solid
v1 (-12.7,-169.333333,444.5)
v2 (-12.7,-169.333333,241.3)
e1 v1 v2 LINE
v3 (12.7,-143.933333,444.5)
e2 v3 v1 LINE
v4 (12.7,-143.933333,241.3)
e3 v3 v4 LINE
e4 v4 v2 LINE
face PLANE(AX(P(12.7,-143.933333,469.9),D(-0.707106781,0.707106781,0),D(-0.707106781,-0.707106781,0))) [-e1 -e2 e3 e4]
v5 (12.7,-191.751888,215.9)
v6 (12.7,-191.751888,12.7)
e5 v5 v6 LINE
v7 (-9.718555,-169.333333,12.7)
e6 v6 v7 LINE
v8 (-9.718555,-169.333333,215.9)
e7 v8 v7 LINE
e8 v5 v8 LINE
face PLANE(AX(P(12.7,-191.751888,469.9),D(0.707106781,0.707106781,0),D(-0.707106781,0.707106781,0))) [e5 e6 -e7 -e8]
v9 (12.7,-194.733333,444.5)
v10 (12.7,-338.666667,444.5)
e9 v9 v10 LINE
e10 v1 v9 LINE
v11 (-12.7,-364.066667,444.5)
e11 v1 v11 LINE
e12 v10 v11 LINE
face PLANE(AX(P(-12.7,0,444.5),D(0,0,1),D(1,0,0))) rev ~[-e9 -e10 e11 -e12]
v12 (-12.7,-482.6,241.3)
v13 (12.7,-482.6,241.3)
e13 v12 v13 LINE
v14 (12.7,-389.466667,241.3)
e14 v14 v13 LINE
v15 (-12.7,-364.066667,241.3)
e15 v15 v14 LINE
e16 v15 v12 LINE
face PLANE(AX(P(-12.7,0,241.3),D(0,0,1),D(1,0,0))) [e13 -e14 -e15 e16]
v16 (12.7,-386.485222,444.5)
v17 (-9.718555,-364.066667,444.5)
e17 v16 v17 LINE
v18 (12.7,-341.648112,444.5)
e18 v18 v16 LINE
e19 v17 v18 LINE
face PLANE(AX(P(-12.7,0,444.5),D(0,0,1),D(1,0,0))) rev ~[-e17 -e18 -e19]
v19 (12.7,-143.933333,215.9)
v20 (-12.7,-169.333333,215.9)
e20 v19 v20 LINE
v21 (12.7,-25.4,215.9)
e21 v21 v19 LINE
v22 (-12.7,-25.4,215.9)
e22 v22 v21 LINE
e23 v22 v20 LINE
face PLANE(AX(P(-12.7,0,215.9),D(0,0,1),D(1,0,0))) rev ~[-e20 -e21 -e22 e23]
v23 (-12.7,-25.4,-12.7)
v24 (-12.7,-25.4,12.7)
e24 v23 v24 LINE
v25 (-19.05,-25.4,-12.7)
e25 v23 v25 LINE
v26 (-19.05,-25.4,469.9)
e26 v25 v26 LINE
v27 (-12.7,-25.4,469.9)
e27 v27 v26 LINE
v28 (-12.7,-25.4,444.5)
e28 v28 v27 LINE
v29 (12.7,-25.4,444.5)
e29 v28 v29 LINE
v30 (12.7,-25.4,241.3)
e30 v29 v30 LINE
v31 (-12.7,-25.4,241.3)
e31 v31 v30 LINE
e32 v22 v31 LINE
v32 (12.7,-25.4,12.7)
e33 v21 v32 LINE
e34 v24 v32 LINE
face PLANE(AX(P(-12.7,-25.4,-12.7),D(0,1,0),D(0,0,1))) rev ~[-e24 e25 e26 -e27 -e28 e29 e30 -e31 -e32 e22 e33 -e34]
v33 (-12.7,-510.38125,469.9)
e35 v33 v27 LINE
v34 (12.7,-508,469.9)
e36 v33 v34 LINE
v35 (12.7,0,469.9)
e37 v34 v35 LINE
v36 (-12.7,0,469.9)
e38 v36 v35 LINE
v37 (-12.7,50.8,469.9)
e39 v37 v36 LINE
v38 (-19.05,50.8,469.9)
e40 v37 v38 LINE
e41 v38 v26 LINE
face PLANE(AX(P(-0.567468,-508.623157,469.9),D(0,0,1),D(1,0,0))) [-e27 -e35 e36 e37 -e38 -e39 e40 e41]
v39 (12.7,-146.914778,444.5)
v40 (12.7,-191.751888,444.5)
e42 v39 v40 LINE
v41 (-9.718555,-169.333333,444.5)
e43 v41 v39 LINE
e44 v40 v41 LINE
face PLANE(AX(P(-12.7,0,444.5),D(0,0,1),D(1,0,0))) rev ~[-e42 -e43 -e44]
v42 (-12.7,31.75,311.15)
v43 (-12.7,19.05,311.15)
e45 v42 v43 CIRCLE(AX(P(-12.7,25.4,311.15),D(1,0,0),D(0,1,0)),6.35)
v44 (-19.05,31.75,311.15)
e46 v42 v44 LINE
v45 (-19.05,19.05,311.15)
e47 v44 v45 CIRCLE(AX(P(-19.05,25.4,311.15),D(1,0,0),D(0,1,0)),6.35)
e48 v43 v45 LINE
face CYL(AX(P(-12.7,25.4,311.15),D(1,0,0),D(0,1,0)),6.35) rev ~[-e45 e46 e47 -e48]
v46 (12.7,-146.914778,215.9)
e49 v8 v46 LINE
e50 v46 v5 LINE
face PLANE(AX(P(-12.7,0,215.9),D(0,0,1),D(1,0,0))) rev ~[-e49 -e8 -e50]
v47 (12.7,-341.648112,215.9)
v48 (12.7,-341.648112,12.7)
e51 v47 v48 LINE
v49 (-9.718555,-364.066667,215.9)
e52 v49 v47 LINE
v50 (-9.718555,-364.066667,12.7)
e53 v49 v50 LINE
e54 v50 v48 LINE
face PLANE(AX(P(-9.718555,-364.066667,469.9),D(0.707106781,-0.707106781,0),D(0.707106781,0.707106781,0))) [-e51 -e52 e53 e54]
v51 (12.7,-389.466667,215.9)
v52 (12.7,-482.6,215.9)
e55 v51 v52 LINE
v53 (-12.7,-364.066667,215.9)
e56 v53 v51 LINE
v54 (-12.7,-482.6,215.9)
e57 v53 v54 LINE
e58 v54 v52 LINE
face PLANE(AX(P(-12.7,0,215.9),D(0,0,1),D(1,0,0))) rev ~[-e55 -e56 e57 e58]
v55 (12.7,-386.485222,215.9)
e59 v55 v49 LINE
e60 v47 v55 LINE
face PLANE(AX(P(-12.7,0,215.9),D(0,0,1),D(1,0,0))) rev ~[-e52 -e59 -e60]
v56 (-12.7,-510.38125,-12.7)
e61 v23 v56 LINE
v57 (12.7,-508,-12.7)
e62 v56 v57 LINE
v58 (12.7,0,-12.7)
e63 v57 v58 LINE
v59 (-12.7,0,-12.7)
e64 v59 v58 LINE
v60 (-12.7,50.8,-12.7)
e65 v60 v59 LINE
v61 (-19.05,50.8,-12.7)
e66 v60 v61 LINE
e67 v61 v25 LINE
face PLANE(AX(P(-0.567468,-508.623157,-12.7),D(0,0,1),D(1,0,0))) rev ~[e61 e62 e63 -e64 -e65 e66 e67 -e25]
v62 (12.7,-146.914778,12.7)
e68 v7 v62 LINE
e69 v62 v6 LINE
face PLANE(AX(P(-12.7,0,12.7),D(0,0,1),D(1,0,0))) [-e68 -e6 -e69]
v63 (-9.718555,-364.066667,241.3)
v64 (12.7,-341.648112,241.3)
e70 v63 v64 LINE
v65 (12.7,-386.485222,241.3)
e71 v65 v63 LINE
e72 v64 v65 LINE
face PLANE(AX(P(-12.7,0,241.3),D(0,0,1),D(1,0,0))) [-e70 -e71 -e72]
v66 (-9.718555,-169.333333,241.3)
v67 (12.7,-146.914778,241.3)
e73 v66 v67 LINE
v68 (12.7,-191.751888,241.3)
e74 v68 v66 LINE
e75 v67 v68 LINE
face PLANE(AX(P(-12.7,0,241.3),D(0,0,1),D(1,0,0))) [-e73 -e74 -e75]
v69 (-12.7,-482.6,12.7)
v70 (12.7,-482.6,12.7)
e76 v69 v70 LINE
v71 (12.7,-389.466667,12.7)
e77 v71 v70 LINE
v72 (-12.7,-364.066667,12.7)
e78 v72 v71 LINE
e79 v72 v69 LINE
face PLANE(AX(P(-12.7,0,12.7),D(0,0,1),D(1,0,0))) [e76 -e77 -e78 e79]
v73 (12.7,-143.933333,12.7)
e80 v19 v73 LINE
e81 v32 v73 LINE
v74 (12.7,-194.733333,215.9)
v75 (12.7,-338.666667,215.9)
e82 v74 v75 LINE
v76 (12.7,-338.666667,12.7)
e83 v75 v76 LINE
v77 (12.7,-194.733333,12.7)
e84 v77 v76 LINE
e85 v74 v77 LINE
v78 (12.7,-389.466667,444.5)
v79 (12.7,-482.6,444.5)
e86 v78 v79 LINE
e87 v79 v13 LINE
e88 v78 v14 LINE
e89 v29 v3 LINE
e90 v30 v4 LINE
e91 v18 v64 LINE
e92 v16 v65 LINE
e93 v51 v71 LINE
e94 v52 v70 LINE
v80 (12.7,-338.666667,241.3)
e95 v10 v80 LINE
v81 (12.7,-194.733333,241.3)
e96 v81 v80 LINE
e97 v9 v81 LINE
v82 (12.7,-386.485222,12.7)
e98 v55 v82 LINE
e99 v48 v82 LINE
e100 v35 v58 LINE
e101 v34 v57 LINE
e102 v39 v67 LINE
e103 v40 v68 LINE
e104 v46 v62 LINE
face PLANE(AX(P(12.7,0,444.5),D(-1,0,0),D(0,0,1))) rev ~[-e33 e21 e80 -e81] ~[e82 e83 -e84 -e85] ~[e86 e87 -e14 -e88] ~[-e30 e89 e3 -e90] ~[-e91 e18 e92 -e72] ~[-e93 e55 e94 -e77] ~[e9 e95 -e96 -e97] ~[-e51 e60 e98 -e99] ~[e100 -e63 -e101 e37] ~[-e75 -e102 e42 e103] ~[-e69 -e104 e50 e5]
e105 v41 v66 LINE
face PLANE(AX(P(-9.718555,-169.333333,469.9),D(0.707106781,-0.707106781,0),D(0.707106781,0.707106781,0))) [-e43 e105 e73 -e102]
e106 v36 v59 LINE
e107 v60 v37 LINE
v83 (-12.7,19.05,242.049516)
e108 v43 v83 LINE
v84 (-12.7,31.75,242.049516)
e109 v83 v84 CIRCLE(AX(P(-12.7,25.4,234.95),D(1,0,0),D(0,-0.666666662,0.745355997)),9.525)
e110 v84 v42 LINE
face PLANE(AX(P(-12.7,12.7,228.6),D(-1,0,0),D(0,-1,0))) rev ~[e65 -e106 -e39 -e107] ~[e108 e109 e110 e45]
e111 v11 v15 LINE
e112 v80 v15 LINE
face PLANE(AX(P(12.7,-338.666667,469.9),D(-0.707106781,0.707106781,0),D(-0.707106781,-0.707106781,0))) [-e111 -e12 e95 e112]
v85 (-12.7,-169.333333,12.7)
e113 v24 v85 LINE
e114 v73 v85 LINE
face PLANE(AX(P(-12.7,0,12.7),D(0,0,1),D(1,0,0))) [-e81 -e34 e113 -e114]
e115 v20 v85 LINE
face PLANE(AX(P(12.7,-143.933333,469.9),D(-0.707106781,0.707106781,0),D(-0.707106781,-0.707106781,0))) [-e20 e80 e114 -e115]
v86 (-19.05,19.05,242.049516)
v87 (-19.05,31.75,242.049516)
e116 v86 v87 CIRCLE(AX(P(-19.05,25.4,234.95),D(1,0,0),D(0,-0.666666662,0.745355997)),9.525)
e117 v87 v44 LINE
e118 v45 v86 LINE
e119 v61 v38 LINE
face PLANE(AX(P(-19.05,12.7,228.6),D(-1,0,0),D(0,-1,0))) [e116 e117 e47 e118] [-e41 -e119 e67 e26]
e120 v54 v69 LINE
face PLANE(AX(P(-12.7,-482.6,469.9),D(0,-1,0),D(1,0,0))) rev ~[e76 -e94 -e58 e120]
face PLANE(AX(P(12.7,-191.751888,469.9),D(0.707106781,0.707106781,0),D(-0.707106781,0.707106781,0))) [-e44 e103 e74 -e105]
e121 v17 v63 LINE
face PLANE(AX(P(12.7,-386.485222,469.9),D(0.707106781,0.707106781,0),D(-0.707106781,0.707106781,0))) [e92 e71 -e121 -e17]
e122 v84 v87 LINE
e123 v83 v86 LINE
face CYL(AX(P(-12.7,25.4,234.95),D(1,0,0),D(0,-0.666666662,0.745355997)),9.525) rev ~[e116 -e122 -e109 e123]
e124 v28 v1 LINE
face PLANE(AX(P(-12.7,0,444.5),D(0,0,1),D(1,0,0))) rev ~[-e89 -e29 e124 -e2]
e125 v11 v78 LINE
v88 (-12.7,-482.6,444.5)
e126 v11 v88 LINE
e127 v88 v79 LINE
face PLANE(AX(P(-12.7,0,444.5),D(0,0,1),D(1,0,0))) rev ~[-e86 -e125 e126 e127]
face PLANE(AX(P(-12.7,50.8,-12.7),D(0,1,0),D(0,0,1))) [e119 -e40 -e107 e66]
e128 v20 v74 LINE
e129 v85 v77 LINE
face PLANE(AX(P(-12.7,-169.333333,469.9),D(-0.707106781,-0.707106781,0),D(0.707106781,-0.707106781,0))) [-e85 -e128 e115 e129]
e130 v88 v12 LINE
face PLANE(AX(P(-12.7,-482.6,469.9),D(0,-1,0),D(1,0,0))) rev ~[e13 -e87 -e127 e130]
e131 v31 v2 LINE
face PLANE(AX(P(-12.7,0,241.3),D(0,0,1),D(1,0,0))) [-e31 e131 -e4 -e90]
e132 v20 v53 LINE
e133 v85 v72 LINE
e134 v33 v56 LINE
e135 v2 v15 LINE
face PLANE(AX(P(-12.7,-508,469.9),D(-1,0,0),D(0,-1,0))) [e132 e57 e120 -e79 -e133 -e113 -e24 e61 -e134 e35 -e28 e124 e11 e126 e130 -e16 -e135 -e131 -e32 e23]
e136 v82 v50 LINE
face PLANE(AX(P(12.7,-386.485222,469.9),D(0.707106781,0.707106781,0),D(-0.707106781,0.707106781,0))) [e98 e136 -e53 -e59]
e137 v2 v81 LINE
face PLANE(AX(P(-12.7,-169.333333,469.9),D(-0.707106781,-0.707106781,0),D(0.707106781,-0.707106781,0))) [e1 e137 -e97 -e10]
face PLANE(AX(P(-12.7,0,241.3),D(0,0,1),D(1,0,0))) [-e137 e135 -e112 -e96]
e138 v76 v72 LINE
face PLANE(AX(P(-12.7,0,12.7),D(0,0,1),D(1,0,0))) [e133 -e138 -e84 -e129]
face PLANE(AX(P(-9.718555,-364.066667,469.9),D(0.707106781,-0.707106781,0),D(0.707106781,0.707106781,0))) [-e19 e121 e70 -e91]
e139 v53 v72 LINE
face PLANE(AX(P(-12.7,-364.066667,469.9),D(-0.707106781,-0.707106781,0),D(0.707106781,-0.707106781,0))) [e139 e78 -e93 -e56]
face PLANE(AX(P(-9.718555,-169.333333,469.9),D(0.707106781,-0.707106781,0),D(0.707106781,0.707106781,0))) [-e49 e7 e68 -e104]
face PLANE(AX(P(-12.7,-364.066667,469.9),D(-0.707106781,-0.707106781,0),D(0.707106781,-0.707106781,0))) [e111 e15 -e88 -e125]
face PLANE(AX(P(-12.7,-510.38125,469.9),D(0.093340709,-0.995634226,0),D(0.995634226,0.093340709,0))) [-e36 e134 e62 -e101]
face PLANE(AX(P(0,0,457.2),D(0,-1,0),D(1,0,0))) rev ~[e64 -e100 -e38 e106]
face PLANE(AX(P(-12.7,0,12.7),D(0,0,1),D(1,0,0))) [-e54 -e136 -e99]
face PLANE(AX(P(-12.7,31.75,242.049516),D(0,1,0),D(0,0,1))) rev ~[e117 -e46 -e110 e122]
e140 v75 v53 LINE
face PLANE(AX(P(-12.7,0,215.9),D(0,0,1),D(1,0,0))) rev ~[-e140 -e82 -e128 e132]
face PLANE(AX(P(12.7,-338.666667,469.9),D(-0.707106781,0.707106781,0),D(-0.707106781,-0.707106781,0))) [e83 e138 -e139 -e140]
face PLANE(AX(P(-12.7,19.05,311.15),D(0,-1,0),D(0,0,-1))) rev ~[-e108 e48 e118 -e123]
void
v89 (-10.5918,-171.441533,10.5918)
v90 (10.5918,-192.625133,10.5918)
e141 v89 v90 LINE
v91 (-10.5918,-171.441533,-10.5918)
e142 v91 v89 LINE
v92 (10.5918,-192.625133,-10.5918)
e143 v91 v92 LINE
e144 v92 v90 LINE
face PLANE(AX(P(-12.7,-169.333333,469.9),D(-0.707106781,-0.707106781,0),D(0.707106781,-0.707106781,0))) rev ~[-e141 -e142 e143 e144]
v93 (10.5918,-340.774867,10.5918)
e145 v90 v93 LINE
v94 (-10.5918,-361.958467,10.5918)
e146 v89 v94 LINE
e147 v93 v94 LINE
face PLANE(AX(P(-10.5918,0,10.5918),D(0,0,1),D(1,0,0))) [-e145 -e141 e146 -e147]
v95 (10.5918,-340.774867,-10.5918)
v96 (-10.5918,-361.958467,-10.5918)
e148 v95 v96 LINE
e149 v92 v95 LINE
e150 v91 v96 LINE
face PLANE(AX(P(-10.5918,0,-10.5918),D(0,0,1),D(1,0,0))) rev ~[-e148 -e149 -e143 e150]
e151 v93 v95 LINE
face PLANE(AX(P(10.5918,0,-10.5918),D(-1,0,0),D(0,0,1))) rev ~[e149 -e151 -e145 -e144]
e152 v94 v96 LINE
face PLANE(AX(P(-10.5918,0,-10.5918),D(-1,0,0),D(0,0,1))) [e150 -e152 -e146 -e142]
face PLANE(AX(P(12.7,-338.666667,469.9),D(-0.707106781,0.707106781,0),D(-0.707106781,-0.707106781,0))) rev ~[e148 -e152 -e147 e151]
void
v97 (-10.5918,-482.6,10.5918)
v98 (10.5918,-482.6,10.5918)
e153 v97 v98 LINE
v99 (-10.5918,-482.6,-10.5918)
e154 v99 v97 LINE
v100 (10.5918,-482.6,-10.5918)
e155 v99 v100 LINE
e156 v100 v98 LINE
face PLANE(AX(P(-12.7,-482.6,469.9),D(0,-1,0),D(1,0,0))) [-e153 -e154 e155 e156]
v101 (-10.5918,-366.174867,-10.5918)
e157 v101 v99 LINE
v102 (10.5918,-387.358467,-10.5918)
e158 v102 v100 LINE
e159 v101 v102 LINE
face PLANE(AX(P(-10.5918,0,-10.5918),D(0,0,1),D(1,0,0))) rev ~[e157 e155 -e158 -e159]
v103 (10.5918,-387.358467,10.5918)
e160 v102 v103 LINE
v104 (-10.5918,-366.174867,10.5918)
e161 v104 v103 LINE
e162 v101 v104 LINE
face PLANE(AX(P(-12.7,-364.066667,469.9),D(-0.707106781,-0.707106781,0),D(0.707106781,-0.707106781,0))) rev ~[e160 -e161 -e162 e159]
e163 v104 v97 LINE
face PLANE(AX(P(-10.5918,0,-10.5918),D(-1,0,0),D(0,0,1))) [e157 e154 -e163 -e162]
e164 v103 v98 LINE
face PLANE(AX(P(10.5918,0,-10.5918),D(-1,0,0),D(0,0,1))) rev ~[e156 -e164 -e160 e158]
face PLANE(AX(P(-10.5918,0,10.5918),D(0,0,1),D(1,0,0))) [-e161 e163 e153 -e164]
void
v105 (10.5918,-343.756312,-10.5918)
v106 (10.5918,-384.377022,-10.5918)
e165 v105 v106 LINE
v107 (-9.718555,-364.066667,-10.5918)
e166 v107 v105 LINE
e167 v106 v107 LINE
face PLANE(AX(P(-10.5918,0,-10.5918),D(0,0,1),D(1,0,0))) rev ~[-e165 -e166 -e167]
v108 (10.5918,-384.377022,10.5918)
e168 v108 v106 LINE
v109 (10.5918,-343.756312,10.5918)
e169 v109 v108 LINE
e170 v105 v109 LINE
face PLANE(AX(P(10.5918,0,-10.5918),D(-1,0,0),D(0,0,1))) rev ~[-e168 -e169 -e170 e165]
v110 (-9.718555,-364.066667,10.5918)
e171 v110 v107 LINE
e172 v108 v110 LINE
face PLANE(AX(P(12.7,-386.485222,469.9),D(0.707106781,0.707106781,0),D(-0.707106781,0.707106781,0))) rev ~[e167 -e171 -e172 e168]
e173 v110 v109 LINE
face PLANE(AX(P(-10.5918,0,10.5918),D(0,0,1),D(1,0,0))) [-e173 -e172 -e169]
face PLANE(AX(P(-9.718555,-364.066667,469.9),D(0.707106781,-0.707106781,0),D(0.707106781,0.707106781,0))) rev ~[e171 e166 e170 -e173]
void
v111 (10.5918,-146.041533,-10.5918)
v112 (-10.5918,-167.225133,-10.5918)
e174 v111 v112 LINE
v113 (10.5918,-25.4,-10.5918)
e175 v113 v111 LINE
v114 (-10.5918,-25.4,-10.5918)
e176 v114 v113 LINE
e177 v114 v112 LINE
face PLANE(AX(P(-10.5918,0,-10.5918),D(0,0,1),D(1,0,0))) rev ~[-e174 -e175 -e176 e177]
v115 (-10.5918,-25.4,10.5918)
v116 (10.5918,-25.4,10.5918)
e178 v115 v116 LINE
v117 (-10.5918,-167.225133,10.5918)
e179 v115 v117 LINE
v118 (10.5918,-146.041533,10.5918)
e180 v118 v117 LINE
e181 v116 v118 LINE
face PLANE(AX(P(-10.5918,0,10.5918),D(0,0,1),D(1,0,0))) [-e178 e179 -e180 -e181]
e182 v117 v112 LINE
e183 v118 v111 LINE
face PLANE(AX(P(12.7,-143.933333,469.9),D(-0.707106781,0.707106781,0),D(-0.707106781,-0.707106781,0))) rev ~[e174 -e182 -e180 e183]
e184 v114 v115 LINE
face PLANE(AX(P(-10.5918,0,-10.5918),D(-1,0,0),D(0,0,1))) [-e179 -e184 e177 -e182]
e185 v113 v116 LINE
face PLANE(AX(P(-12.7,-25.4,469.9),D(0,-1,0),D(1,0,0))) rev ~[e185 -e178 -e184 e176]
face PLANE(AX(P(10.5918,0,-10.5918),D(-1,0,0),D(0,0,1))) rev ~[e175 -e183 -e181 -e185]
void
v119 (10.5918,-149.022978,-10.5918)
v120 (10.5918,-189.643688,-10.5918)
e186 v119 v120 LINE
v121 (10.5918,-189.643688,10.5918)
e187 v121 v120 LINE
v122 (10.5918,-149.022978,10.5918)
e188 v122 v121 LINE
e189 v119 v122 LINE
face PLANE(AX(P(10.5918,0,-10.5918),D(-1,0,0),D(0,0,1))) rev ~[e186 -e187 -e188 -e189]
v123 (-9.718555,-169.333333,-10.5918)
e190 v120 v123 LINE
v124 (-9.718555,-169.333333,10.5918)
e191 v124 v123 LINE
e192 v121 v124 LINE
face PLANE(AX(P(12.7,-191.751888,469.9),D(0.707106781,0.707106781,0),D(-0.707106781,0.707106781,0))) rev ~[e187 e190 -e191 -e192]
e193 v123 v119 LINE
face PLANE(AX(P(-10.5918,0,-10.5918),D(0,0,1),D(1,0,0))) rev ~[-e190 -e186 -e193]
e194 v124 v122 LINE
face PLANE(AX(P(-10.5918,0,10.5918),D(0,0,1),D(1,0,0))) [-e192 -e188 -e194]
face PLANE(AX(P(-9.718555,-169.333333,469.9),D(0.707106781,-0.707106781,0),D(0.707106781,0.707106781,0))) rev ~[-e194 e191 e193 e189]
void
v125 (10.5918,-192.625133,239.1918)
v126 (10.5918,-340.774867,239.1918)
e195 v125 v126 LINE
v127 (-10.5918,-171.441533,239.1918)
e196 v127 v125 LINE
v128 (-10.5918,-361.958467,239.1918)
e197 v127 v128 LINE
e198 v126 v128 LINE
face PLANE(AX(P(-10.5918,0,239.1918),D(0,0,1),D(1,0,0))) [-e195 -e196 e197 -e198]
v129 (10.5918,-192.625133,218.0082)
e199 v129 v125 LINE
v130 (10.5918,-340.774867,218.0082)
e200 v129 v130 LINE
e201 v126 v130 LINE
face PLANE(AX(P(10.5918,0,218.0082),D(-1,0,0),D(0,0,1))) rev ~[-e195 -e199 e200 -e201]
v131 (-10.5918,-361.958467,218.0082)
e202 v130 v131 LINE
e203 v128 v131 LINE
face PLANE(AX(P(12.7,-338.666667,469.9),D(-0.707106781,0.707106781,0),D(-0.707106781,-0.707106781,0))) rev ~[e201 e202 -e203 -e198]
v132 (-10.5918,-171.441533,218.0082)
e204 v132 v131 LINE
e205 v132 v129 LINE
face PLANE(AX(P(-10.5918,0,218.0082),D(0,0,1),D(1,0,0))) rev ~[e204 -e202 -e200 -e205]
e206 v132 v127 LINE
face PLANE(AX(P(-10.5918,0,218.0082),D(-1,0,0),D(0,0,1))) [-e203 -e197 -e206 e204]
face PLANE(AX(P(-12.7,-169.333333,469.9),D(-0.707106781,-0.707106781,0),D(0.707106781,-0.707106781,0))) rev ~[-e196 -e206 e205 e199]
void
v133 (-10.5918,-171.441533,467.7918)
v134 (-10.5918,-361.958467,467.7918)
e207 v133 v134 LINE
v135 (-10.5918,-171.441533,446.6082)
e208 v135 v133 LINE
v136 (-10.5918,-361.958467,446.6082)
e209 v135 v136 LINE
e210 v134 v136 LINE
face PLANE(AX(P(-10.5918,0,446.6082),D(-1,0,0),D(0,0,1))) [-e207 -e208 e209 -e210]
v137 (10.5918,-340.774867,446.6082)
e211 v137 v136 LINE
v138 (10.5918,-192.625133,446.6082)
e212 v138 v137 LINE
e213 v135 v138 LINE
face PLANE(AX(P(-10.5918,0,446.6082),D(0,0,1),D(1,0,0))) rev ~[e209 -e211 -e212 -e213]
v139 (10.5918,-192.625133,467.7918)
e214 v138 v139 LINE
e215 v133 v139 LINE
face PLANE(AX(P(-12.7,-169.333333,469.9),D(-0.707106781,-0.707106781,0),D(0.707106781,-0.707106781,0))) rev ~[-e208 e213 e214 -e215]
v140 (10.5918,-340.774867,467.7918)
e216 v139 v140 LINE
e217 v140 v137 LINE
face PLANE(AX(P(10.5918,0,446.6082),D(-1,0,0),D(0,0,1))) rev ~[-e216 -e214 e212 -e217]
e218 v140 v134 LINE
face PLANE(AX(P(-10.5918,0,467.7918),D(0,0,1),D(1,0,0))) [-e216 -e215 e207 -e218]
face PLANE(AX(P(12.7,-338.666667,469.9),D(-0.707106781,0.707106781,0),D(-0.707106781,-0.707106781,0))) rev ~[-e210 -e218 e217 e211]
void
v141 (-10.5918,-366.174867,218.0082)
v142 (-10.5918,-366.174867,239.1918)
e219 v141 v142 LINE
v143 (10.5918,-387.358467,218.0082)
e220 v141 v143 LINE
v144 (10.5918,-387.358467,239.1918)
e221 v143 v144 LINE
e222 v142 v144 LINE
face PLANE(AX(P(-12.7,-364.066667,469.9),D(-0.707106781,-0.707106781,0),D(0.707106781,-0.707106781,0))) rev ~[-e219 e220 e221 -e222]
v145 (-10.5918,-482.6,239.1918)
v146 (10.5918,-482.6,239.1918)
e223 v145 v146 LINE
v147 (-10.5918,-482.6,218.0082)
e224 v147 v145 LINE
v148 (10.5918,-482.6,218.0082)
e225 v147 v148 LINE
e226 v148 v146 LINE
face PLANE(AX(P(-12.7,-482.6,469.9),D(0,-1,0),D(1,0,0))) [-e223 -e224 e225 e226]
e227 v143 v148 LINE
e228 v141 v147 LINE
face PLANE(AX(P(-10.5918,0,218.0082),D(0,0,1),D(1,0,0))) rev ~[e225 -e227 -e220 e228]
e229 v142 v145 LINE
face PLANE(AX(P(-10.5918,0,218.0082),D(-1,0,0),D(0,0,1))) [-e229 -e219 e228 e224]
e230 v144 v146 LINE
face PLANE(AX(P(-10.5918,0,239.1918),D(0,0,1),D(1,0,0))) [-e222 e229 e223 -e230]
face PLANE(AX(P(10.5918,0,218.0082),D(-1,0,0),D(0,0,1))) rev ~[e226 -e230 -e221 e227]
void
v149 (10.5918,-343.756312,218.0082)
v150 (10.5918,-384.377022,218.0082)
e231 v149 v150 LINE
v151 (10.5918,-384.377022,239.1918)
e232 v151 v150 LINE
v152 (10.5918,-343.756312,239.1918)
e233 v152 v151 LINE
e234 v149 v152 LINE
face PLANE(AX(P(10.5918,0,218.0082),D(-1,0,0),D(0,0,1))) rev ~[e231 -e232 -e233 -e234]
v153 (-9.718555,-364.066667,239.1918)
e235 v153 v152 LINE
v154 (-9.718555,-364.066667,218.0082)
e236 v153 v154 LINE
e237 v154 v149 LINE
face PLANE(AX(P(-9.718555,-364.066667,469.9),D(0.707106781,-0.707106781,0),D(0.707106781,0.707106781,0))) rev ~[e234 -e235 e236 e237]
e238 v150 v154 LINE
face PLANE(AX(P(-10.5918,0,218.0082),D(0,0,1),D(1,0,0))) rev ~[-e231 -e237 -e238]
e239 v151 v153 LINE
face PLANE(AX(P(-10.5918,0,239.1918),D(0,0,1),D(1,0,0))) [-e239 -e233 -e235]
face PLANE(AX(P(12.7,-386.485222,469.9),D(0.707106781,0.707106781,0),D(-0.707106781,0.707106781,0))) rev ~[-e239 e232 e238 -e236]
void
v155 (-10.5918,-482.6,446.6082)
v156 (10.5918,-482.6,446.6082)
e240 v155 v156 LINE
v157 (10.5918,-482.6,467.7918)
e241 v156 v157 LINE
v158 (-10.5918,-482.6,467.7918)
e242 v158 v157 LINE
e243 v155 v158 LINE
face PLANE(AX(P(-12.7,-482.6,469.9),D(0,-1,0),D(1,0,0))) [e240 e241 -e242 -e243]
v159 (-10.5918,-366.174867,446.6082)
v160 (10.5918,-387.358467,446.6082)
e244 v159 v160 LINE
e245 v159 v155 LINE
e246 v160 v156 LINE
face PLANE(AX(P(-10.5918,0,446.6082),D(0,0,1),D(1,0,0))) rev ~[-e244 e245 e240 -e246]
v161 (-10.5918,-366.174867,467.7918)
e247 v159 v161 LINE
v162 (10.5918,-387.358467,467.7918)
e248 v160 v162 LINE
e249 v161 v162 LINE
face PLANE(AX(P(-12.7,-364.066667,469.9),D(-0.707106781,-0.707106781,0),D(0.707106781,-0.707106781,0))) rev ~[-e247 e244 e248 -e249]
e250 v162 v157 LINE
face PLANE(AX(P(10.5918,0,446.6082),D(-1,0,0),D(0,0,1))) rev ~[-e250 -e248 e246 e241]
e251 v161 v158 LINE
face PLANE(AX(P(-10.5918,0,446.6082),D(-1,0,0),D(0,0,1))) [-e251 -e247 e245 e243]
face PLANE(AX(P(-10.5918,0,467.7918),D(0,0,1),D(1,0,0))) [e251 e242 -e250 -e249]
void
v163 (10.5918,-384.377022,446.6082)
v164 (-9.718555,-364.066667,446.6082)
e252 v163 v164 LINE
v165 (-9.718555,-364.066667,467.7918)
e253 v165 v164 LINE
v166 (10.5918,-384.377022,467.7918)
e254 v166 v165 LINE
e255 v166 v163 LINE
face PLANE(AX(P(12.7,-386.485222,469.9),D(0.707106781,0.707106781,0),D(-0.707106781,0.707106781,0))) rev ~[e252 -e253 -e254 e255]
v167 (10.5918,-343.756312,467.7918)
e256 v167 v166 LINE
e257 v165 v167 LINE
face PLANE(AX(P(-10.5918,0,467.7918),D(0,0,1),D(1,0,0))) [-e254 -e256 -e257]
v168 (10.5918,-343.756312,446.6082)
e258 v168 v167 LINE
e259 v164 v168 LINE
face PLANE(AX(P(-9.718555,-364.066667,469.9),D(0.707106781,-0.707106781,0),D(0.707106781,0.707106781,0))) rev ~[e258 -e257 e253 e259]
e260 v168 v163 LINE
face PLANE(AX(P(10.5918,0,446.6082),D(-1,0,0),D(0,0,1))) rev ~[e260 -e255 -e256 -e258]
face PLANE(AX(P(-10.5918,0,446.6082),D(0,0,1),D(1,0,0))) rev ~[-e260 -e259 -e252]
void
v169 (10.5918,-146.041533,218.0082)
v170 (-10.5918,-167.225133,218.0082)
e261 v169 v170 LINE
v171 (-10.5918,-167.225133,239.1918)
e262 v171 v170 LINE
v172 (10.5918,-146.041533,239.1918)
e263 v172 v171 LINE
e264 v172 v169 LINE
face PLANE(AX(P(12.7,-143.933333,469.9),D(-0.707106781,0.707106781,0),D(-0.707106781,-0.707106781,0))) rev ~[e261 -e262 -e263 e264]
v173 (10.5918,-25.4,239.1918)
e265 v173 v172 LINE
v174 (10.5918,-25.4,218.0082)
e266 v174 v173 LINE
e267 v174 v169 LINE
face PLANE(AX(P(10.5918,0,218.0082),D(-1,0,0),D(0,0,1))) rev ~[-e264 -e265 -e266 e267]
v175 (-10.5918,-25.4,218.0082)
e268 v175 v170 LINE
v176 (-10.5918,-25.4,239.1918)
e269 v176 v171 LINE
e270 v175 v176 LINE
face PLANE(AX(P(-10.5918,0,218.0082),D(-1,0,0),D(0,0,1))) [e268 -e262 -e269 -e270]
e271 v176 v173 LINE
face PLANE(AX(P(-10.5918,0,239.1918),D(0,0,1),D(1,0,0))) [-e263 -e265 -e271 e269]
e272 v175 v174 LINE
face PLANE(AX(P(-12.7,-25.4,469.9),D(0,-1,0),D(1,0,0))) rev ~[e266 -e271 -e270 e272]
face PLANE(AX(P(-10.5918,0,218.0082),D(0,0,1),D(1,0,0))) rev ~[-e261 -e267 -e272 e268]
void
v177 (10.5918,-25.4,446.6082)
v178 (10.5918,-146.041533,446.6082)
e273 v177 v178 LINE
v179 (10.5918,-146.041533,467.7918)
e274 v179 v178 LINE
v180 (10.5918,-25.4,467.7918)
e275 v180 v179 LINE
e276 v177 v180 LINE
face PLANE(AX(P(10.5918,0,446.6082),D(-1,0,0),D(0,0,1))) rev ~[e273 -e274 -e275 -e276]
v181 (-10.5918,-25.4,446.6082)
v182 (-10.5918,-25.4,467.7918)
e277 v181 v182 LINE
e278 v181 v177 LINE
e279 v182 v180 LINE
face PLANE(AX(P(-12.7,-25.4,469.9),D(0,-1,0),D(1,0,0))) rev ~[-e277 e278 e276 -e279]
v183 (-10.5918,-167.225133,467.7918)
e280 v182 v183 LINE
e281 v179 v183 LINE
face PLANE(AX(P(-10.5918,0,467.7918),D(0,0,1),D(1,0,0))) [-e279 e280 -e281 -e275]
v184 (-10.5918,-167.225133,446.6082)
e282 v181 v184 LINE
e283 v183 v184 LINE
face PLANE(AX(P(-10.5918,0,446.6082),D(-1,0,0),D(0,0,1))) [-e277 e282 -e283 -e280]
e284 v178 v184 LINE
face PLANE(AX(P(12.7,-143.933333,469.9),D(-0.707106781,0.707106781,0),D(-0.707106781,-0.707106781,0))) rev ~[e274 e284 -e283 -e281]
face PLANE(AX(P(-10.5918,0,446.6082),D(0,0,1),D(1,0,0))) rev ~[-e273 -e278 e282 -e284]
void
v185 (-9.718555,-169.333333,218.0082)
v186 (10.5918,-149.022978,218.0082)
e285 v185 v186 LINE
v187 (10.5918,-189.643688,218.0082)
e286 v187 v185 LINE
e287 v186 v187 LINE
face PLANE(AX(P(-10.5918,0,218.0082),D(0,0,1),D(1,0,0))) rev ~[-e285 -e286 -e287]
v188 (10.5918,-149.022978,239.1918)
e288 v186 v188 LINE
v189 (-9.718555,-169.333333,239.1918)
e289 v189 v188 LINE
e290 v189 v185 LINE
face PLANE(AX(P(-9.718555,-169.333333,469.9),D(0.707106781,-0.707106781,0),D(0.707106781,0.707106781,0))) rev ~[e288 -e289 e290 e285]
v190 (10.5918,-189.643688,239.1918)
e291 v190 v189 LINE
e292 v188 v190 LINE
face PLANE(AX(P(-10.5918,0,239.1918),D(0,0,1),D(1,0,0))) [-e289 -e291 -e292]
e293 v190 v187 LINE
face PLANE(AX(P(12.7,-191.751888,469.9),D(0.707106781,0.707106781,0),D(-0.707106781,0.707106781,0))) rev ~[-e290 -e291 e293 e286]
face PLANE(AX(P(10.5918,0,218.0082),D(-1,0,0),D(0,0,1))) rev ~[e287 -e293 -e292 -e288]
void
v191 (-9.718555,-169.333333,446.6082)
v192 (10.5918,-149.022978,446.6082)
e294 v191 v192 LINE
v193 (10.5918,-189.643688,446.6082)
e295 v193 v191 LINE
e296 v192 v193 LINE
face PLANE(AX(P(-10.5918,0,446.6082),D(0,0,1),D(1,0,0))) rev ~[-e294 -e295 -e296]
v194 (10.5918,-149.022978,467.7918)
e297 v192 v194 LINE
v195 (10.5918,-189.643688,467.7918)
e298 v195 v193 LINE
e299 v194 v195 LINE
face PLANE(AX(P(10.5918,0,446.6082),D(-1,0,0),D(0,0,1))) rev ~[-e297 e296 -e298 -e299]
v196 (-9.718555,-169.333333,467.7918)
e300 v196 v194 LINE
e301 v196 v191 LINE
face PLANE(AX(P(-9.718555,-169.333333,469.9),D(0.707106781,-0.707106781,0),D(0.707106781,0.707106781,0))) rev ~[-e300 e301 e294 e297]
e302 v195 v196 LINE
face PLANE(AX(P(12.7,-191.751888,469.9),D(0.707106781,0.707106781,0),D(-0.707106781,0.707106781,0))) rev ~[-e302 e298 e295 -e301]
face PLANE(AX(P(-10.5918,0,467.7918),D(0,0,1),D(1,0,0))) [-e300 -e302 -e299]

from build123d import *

# Parameters (mm, degrees)
F0_W     = 25.4
F0_H     = 25.4
F0_W_2   = 21.1836
F0_H_2   = 21.1836
F1_DEPTH = 508
F2_W     = 25.4
F2_H     = 25.4
F3_DEPTH = 482.6
F4_W     = 76.2
F4_H     = 482.6
F5_DEPTH = 6.35
F7_DEPTH = 482.6
F9_DEPTH = 482.6


with BuildPart() as f1:
    # F0 (on Front) → F1 (new body)
    with BuildSketch(Plane.XZ):
        with Locations((0, 457.2)):
            Rectangle(F0_W, F0_H)
        with Locations((0, 457.2)):
            Rectangle(F0_W_2, F0_H_2, mode=Mode.SUBTRACT)
        with Locations((0, 228.6)):
            Rectangle(F0_W, F0_H)
        with Locations((0, 228.6)):
            Rectangle(F0_W_2, F0_H_2, mode=Mode.SUBTRACT)
        Rectangle(F0_W, F0_H)
        Rectangle(F0_W_2, F0_H_2, mode=Mode.SUBTRACT)
    extrude(amount=F1_DEPTH)

    # F2 (on face) → F3 (join)
    with BuildSketch(Plane.XY.offset(469.9)):
        with Locations((0, -12.7)):
            Rectangle(F2_W, F2_H)
        with Locations((0, -495.3)):
            Rectangle(F2_W, F2_H)
    extrude(amount=-F3_DEPTH)

    # F4 (on face) → F5 (join)
    with BuildSketch(Plane(origin=(-12.7, 0, 0), x_dir=(0, -1, 0), z_dir=(-1, 0, 0))):
        with Locations((-12.7, 228.6)):
            Rectangle(F4_W, F4_H)
        with BuildLine():
            ThreePointArc((-19.05, 242.049516), (-25.4, 225.425), (-31.75, 242.049516))
            Line((-31.75, 242.049516), (-31.75, 311.15))
            ThreePointArc((-31.75, 311.15), (-25.4, 317.5), (-19.05, 311.15))
            Line((-19.05, 311.15), (-19.05, 242.049516))
        make_face(mode=Mode.SUBTRACT)
    extrude(amount=F5_DEPTH)

    # F6 (on face) → F7 (join)
    with BuildSketch(Plane.XY.offset(469.9)):
        Polygon((-12.7, -169.333333), (12.7, -194.733333), (12.7, -191.751888), (-9.718555, -169.333333), (12.7, -146.914778), (12.7, -143.933333), align=None)
        Polygon((-12.7, -364.066667), (12.7, -389.466667), (12.7, -386.485222), (-9.718555, -364.066667), (12.7, -341.648112), (12.7, -338.666667), align=None)
    extrude(amount=-F7_DEPTH)

    # F8 (on face) → F9 (join)
    with BuildSketch(Plane.XY.offset(469.9)):
        Polygon((-12.7, -510.38125), (12.7, -508), (-12.7, -508), align=None)
    extrude(amount=-F9_DEPTH)


solid = f1.part
